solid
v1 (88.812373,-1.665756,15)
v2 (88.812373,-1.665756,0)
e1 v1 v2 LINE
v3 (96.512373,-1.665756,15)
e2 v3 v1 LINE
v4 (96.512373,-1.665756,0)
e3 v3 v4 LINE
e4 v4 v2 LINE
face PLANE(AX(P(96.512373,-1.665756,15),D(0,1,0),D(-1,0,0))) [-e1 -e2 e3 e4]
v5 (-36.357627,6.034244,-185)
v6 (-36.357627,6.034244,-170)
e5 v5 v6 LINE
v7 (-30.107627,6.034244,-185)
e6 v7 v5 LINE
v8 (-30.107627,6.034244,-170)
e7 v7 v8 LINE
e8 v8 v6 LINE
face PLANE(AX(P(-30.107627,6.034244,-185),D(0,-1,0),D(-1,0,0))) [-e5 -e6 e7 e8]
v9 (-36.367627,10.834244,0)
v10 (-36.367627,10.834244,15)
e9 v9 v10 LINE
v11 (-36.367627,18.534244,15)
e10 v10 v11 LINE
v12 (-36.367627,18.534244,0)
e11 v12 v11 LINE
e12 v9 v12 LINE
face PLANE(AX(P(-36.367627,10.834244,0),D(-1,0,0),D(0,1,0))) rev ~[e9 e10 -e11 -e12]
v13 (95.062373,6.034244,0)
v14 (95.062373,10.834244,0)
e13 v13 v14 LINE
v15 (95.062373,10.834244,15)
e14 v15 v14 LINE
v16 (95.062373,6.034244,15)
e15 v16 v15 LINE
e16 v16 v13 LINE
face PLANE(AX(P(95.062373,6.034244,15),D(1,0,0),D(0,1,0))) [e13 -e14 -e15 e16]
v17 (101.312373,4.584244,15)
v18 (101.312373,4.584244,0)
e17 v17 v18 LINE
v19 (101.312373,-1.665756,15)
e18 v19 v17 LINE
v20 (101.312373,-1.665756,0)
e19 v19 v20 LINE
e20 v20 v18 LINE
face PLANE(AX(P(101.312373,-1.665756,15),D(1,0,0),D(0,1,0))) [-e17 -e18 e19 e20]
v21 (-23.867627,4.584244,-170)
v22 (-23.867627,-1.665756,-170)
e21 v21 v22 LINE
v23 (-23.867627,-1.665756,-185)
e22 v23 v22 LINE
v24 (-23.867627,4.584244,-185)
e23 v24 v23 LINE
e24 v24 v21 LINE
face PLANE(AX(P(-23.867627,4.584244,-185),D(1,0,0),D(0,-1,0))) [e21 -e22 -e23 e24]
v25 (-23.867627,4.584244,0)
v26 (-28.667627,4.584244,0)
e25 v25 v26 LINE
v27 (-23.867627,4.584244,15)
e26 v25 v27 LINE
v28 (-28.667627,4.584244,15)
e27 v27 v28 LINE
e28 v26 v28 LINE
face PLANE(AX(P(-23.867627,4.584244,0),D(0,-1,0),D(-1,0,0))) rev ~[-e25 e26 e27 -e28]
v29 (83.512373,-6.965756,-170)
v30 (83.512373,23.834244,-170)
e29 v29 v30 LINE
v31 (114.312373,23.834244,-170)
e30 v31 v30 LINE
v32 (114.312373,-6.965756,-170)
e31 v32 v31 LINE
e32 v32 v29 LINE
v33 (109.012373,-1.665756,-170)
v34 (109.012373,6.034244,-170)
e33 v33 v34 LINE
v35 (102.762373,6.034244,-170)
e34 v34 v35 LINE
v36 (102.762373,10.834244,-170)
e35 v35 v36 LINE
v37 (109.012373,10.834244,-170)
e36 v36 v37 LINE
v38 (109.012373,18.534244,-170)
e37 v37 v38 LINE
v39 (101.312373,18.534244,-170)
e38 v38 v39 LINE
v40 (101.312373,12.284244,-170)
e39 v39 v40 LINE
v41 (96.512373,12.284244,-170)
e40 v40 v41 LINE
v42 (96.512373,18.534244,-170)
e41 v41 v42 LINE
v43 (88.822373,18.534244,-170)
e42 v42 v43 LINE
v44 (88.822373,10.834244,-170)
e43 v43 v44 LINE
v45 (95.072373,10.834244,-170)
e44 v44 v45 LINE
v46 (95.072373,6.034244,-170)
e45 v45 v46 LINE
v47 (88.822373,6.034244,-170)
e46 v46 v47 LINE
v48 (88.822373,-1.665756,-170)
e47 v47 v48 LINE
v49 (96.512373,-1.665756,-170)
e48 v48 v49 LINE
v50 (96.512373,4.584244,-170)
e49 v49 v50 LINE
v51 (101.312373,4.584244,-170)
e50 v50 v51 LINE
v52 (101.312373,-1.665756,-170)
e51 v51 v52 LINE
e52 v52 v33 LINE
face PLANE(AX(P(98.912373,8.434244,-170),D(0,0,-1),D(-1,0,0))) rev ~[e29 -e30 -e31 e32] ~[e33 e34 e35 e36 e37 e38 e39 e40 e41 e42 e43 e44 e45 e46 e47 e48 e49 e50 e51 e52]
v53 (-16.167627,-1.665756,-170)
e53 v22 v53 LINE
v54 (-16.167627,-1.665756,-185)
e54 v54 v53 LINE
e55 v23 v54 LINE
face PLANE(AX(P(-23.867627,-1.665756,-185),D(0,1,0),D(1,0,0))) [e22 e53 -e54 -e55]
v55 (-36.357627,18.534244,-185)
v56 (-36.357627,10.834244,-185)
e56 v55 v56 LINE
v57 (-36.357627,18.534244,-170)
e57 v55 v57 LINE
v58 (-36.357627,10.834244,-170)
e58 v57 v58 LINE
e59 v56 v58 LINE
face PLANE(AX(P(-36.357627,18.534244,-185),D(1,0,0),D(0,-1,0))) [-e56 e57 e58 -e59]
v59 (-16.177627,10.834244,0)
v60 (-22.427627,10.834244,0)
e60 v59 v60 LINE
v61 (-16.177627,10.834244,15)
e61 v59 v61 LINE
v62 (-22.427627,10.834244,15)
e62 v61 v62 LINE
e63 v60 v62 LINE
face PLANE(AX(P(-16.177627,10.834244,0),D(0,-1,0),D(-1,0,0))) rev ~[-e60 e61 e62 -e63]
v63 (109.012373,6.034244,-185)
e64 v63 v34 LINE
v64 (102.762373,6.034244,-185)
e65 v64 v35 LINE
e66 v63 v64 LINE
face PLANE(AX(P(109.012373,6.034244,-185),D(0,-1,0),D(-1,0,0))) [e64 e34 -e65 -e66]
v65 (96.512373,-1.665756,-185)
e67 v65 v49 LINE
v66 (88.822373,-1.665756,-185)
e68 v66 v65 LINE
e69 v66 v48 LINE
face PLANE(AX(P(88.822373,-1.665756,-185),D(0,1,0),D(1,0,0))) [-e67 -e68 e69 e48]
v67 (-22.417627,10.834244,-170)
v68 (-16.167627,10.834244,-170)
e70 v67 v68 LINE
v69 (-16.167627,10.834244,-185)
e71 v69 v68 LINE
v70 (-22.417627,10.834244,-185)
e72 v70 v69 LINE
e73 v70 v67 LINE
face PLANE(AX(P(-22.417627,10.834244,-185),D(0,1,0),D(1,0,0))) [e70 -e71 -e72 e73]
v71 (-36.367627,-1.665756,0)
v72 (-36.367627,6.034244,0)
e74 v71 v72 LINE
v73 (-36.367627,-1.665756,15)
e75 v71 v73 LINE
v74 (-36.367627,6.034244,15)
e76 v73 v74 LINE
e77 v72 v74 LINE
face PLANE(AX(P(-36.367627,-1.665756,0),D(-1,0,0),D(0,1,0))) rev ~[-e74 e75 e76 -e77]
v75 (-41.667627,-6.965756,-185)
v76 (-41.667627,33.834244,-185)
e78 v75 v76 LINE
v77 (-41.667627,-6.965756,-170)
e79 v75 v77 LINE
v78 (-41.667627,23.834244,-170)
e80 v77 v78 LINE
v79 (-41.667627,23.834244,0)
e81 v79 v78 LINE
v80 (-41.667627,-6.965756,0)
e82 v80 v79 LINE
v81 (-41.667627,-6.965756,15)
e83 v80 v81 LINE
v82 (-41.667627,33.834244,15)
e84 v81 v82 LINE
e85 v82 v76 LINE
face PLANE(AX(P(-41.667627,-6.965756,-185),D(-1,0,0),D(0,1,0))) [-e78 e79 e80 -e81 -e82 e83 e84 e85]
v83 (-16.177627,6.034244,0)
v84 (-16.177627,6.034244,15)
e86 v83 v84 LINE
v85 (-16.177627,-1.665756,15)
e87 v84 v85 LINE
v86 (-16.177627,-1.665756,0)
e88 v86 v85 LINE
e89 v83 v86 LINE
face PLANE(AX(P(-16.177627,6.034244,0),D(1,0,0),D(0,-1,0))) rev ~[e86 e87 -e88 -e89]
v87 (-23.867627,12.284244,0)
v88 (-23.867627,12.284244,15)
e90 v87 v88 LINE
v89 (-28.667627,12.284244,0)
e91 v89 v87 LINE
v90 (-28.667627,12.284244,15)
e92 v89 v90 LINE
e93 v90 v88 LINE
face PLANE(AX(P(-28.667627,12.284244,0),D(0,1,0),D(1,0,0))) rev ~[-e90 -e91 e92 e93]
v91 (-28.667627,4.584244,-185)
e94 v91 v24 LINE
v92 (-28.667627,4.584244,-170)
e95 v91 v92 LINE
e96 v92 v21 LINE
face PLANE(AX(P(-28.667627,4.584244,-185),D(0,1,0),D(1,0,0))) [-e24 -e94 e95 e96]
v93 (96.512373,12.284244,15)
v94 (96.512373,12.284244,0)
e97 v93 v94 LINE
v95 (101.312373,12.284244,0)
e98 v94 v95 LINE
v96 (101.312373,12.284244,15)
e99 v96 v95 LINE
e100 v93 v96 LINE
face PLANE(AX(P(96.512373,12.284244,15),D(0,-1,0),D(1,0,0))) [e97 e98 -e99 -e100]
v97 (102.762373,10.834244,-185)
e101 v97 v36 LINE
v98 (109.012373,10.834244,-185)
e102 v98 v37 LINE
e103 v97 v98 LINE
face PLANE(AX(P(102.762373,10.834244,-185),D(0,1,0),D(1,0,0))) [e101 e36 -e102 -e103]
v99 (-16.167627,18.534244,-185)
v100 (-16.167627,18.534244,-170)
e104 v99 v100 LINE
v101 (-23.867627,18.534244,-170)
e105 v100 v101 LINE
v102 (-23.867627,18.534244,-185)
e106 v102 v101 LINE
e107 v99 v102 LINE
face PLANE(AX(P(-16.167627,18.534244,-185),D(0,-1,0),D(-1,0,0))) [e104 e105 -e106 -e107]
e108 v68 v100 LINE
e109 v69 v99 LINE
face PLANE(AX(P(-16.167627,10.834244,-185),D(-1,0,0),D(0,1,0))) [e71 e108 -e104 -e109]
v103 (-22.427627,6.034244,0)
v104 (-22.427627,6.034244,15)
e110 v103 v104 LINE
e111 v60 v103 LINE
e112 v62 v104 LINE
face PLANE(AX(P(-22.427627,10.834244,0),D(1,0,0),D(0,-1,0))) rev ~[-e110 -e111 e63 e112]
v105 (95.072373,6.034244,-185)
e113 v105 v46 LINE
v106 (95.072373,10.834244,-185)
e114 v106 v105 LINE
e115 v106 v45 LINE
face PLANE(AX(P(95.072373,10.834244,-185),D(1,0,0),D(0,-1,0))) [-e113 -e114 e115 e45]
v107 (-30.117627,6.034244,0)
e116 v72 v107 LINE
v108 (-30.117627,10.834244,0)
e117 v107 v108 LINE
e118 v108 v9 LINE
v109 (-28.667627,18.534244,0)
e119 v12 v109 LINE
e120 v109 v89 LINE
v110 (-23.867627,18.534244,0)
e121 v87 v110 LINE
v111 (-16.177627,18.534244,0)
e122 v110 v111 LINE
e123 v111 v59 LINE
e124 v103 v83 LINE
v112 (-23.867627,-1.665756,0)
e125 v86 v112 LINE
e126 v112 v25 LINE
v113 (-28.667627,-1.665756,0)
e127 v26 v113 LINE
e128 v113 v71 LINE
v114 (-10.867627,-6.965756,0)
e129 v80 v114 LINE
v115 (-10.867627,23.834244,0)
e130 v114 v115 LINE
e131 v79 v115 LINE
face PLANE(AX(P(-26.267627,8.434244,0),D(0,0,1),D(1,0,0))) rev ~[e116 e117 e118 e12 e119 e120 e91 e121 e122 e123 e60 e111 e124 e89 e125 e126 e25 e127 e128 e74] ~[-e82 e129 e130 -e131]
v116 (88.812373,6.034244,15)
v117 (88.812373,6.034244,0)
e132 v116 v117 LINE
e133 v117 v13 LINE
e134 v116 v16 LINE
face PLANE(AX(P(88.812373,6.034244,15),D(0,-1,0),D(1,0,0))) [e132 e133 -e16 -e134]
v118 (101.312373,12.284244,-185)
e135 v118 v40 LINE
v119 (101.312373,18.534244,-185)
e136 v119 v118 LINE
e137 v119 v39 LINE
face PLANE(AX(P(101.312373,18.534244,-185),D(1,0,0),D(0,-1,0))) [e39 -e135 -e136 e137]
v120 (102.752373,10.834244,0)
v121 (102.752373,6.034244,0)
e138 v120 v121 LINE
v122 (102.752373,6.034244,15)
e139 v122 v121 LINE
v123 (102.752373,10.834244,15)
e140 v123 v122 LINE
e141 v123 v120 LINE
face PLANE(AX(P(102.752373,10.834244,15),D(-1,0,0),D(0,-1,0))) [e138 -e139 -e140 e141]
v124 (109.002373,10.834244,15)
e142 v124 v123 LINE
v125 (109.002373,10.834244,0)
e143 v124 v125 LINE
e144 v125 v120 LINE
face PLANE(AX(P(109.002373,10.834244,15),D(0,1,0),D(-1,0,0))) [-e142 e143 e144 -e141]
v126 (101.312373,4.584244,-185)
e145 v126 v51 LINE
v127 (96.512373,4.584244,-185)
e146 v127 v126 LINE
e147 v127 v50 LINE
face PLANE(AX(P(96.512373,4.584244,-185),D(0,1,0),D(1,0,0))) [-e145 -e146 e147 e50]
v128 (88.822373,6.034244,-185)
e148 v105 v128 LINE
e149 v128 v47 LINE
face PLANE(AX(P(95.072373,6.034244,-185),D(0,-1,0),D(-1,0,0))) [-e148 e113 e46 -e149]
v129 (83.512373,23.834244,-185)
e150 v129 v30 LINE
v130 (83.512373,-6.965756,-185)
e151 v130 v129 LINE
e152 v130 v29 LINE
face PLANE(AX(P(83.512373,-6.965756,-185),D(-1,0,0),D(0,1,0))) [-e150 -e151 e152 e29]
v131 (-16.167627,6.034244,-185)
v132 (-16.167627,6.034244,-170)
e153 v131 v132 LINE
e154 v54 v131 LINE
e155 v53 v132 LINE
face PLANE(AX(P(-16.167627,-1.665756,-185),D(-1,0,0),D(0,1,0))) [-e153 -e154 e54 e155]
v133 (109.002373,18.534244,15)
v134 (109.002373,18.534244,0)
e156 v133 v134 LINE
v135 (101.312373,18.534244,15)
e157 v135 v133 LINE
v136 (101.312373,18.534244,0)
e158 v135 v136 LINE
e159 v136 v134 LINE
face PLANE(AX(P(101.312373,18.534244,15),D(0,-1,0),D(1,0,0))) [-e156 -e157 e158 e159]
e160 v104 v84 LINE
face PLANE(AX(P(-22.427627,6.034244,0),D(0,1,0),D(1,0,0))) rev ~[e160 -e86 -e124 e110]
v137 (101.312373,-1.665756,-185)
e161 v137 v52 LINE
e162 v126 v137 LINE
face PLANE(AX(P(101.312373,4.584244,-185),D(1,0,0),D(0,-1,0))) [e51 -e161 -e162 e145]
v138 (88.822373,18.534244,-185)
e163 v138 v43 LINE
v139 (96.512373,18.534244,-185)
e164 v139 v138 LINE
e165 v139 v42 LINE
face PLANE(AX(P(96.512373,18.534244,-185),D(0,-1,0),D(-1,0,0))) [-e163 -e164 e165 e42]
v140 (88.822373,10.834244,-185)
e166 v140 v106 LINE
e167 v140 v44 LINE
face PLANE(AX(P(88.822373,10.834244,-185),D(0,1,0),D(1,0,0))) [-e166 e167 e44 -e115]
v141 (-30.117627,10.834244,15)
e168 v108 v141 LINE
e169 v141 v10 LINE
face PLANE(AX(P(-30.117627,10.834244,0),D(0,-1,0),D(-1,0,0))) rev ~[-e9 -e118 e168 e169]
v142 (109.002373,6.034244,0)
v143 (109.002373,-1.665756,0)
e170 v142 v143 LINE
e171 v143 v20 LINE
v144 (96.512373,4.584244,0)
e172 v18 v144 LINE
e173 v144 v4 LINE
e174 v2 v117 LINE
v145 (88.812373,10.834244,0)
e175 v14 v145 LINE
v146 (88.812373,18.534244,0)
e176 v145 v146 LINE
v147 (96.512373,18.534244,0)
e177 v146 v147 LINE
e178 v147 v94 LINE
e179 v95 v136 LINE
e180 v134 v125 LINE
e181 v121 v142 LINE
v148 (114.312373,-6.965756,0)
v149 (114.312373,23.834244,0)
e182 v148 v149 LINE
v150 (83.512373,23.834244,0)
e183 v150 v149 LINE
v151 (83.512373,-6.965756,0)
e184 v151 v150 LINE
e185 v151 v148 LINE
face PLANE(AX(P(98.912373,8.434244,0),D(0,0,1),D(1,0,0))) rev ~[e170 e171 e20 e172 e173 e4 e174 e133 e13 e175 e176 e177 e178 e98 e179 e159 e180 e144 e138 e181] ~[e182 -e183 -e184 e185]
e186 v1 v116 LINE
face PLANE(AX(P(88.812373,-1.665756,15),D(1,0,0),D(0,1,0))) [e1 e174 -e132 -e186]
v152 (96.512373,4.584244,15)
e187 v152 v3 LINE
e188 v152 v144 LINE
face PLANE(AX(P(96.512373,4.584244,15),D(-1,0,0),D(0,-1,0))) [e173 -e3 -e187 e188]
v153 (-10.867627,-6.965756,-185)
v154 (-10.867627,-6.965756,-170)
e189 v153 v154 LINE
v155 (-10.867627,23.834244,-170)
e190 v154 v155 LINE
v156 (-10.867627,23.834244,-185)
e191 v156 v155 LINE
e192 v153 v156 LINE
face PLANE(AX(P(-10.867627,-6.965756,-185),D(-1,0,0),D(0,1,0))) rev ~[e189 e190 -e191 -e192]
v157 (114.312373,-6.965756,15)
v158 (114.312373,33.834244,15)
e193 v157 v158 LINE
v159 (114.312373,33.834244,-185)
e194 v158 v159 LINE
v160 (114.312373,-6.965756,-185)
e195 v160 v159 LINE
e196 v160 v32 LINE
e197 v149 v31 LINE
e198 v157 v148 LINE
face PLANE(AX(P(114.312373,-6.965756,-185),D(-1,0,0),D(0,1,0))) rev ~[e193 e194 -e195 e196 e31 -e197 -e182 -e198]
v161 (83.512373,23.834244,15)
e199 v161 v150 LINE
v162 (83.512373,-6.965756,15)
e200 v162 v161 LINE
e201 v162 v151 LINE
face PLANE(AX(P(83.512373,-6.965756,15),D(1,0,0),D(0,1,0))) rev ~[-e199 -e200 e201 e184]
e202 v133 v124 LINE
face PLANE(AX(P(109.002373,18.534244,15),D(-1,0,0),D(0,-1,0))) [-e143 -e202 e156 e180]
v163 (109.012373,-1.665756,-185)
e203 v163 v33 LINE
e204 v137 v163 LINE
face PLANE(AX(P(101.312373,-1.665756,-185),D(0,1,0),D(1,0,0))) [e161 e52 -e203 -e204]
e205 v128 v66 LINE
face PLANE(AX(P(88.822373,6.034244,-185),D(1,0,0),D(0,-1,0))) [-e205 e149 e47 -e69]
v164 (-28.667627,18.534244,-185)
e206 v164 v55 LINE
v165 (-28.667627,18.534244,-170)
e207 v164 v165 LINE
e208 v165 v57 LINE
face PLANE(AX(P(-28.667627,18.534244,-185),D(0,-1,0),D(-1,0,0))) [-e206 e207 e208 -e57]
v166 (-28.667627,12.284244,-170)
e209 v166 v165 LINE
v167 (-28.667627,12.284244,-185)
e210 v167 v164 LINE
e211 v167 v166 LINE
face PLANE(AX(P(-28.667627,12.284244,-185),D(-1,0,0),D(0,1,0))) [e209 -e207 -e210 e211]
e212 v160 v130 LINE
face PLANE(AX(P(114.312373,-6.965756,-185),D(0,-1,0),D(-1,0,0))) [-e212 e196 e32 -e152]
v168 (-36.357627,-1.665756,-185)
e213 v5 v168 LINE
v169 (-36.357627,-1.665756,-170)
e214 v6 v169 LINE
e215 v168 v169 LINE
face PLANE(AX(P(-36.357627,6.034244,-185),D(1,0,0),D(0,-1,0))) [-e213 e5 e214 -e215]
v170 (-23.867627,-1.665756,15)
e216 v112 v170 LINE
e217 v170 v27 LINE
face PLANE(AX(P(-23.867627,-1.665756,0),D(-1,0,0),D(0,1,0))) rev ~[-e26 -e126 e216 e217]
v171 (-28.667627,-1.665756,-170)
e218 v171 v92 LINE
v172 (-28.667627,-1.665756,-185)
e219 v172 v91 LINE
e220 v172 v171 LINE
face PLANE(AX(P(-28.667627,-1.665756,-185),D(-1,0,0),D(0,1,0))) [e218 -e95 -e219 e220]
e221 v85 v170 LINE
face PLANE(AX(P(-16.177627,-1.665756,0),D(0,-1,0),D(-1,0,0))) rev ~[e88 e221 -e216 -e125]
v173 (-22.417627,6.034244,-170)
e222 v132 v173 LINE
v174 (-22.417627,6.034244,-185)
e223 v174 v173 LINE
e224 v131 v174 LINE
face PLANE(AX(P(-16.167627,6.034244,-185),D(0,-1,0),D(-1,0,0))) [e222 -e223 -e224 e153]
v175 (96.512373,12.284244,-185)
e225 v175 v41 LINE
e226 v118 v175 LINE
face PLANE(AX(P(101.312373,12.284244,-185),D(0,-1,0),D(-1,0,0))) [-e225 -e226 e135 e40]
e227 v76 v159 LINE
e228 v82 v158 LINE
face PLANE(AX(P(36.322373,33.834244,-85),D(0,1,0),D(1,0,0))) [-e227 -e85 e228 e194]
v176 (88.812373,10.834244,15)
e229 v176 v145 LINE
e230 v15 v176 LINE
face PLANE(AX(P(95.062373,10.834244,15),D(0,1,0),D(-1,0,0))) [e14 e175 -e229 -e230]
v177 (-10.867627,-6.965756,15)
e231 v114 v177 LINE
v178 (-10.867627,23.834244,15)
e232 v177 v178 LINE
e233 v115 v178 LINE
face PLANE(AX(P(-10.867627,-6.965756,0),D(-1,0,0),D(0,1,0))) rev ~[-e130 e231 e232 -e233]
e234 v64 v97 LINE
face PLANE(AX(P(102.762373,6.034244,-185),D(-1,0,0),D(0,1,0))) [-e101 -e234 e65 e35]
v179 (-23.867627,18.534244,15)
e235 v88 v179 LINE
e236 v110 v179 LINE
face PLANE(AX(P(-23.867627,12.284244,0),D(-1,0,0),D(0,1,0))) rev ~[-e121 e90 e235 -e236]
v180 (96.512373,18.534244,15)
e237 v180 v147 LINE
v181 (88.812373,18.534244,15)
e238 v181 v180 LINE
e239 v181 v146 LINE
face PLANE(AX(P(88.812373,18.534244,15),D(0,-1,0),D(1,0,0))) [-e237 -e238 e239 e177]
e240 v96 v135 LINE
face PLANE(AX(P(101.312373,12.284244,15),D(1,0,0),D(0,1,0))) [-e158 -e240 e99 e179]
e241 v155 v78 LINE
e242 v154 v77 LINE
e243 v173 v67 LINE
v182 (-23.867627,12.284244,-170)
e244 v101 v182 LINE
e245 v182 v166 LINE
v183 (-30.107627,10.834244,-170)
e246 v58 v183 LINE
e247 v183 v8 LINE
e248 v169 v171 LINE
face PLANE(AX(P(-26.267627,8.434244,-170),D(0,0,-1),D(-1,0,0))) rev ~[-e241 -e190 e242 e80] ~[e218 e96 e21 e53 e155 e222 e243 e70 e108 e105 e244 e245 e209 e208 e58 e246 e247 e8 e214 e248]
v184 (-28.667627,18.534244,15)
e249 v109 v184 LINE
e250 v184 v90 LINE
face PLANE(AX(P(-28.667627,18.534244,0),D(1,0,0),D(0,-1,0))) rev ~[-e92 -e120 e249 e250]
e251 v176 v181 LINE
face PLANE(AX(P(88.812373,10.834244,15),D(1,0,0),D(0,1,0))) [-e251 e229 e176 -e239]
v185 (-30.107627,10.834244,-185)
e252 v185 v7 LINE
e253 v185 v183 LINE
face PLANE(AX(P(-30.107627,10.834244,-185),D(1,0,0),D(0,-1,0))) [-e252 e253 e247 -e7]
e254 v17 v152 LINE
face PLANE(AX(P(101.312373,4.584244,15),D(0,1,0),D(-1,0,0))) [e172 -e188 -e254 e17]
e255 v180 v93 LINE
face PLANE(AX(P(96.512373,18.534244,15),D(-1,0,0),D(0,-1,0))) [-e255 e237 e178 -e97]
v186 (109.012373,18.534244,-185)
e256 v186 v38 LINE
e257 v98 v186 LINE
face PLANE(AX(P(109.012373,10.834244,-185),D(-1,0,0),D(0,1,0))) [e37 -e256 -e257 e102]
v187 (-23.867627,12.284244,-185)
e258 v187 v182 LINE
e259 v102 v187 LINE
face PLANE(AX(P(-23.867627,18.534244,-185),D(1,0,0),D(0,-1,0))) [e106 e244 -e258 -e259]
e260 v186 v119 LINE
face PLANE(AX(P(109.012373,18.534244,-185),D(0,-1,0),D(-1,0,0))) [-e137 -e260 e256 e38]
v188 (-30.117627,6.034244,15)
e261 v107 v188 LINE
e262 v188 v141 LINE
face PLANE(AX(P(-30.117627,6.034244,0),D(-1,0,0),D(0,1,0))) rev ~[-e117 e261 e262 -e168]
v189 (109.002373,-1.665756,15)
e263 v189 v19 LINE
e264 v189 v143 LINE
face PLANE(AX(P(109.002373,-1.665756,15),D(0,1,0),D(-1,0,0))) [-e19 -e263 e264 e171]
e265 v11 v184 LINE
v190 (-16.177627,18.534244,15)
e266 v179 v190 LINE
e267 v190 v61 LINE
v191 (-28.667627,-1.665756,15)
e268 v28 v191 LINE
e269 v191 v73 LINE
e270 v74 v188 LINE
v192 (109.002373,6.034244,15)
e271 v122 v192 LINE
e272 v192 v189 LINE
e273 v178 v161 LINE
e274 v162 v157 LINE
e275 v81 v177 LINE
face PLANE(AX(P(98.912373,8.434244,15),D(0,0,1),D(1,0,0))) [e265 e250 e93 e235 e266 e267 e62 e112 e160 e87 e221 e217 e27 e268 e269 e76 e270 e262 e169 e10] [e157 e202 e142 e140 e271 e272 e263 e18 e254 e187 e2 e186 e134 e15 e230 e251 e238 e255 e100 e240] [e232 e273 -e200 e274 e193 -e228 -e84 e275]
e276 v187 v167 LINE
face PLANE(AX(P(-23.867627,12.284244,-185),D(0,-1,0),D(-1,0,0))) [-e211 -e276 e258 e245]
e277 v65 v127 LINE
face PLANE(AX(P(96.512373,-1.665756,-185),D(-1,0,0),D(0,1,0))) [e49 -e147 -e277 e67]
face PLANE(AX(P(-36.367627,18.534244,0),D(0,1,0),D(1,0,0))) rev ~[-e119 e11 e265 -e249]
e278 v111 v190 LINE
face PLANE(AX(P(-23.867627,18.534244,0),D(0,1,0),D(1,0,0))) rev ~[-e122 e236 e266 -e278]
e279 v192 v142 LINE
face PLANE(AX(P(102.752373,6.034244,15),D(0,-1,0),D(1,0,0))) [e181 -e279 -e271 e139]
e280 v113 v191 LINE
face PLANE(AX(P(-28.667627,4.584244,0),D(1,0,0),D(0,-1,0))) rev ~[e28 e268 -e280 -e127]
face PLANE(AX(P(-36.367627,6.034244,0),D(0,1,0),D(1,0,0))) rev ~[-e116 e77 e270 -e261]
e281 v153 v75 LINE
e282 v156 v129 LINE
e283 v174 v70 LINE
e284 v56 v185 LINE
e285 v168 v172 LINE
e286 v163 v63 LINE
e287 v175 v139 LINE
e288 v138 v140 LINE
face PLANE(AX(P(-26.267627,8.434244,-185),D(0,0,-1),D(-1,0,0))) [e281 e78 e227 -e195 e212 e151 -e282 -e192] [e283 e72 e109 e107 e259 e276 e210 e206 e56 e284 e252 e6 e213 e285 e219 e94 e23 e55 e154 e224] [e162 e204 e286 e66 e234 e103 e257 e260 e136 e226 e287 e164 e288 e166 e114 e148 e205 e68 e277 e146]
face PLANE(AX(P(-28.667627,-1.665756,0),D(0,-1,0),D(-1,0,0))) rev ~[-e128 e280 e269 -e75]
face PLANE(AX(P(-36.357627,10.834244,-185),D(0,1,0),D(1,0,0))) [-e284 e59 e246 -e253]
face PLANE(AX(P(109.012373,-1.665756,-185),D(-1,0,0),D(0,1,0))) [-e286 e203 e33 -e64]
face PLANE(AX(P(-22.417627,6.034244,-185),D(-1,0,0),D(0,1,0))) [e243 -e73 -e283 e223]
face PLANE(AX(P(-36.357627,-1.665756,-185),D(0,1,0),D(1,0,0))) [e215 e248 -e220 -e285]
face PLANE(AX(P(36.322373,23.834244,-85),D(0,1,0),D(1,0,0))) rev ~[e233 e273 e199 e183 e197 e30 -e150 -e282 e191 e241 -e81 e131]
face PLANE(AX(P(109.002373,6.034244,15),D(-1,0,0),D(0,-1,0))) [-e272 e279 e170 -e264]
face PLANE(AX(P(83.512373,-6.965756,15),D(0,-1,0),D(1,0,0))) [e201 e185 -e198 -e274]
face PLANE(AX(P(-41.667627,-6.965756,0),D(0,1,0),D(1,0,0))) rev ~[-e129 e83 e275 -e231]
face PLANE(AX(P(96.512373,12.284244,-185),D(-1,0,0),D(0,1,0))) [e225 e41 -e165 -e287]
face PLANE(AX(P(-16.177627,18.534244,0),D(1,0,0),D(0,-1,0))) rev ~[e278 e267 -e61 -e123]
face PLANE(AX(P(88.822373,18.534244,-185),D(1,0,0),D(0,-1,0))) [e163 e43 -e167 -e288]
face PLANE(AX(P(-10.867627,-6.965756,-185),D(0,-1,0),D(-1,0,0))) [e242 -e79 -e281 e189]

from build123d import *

# Parameters (mm, degrees)
ESQUISSE1_W         = 30.8
ESQUISSE1_H         = 30.8
BOSS_EXTRU_1_DEPTH  = 15
ESQUISSE6_W         = 155.98
ESQUISSE6_H         = 200
BOSS_EXTRU_4_DEPTH  = 10
ESQUISSE16_W        = 30.8
ESQUISSE16_H        = 30.8
BOSS_EXTRU_12_DEPTH = 15
ESQUISSE25_W        = 30.8
ESQUISSE25_H        = 30.8
BOSS_EXTRU_21_DEPTH = 15
ESQUISSE26_W        = 30.8
ESQUISSE26_H        = 30.8
BOSS_EXTRU_22_DEPTH = 15


with BuildPart() as part:
    # Esquisse1 → Boss.-Extru.1 (new body)
    with BuildSketch(Plane.XY):
        with Locations((-26.267627057, 8.434243976)):
            Rectangle(ESQUISSE1_W, ESQUISSE1_H)
        Polygon((-30.117627057, 6.034243976), (-30.117627057, 10.834243976), (-36.367627057, 10.834243976), (-36.367627057, 18.534243976), (-28.667627057, 18.534243976), (-28.667627057, 12.284243976), (-23.867627057, 12.284243976), (-23.867627057, 18.534243976), (-16.177627057, 18.534243976), (-16.177627057, 10.834243976), (-22.427627057, 10.834243976), (-22.427627057, 6.034243976), (-16.177627057, 6.034243976), (-16.177627057, -1.665756024), (-23.867627057, -1.665756024), (-23.867627057, 4.584243976), (-28.667627057, 4.584243976), (-28.667627057, -1.665756024), (-36.367627057, -1.665756024), (-36.367627057, 6.034243976), align=None, mode=Mode.SUBTRACT)
    extrude(amount=BOSS_EXTRU_1_DEPTH)

    # Esquisse6 → Boss.-Extru.4 (add)
    with BuildSketch(Plane(origin=(0, 23.834243976, 0), x_dir=(1, 0, 0), z_dir=(0, 1, 0))):
        with Locations((36.322372943, 85)):
            Rectangle(ESQUISSE6_W, ESQUISSE6_H)
    extrude(amount=BOSS_EXTRU_4_DEPTH)

    # Esquisse16 → Boss.-Extru.12 (add)
    with BuildSketch(Plane.XY.offset(15)):
        with Locations((98.912372943, 8.434243976)):
            Rectangle(ESQUISSE16_W, ESQUISSE16_H)
        Polygon((95.062372943, 6.034243976), (95.062372943, 10.834243976), (88.812372943, 10.834243976), (88.812372943, 18.534243976), (96.512372943, 18.534243976), (96.512372943, 12.284243976), (101.312372943, 12.284243976), (101.312372943, 18.534243976), (109.002372943, 18.534243976), (109.002372943, 10.834243976), (102.752372943, 10.834243976), (102.752372943, 6.034243976), (109.002372943, 6.034243976), (109.002372943, -1.665756024), (101.312372943, -1.665756024), (101.312372943, 4.584243976), (96.512372943, 4.584243976), (96.512372943, -1.665756024), (88.812372943, -1.665756024), (88.812372943, 6.034243976), align=None, mode=Mode.SUBTRACT)
    extrude(amount=-BOSS_EXTRU_12_DEPTH)

    # Esquisse25 → Boss.-Extru.21 (add)
    with BuildSketch(Plane(origin=(0, 0, -185), x_dir=(-1, 0, 0), z_dir=(0, 0, -1))):
        with Locations((-98.912372943, 8.434243976)):
            Rectangle(ESQUISSE25_W, ESQUISSE25_H)
        Polygon((-102.762372943, 6.034243976), (-102.762372943, 10.834243976), (-109.012372943, 10.834243976), (-109.012372943, 18.534243976), (-101.312372943, 18.534243976), (-101.312372943, 12.284243976), (-96.512372943, 12.284243976), (-96.512372943, 18.534243976), (-88.822372943, 18.534243976), (-88.822372943, 10.834243976), (-95.072372943, 10.834243976), (-95.072372943, 6.034243976), (-88.822372943, 6.034243976), (-88.822372943, -1.665756024), (-96.512372943, -1.665756024), (-96.512372943, 4.584243976), (-101.312372943, 4.584243976), (-101.312372943, -1.665756024), (-109.012372943, -1.665756024), (-109.012372943, 6.034243976), align=None, mode=Mode.SUBTRACT)
    extrude(amount=-BOSS_EXTRU_21_DEPTH)

    # Esquisse26 → Boss.-Extru.22 (add)
    with BuildSketch(Plane(origin=(0, 0, -185), x_dir=(-1, 0, 0), z_dir=(0, 0, -1))):
        with Locations((26.267627057, 8.434243976)):
            Rectangle(ESQUISSE26_W, ESQUISSE26_H)
        Polygon((22.417627057, 6.034243976), (22.417627057, 10.834243976), (16.167627057, 10.834243976), (16.167627057, 18.534243976), (23.867627057, 18.534243976), (23.867627057, 12.284243976), (28.667627057, 12.284243976), (28.667627057, 18.534243976), (36.357627057, 18.534243976), (36.357627057, 10.834243976), (30.107627057, 10.834243976), (30.107627057, 6.034243976), (36.357627057, 6.034243976), (36.357627057, -1.665756024), (28.667627057, -1.665756024), (28.667627057, 4.584243976), (23.867627057, 4.584243976), (23.867627057, -1.665756024), (16.167627057, -1.665756024), (16.167627057, 6.034243976), align=None, mode=Mode.SUBTRACT)
    extrude(amount=-BOSS_EXTRU_22_DEPTH)


solid = part.part
